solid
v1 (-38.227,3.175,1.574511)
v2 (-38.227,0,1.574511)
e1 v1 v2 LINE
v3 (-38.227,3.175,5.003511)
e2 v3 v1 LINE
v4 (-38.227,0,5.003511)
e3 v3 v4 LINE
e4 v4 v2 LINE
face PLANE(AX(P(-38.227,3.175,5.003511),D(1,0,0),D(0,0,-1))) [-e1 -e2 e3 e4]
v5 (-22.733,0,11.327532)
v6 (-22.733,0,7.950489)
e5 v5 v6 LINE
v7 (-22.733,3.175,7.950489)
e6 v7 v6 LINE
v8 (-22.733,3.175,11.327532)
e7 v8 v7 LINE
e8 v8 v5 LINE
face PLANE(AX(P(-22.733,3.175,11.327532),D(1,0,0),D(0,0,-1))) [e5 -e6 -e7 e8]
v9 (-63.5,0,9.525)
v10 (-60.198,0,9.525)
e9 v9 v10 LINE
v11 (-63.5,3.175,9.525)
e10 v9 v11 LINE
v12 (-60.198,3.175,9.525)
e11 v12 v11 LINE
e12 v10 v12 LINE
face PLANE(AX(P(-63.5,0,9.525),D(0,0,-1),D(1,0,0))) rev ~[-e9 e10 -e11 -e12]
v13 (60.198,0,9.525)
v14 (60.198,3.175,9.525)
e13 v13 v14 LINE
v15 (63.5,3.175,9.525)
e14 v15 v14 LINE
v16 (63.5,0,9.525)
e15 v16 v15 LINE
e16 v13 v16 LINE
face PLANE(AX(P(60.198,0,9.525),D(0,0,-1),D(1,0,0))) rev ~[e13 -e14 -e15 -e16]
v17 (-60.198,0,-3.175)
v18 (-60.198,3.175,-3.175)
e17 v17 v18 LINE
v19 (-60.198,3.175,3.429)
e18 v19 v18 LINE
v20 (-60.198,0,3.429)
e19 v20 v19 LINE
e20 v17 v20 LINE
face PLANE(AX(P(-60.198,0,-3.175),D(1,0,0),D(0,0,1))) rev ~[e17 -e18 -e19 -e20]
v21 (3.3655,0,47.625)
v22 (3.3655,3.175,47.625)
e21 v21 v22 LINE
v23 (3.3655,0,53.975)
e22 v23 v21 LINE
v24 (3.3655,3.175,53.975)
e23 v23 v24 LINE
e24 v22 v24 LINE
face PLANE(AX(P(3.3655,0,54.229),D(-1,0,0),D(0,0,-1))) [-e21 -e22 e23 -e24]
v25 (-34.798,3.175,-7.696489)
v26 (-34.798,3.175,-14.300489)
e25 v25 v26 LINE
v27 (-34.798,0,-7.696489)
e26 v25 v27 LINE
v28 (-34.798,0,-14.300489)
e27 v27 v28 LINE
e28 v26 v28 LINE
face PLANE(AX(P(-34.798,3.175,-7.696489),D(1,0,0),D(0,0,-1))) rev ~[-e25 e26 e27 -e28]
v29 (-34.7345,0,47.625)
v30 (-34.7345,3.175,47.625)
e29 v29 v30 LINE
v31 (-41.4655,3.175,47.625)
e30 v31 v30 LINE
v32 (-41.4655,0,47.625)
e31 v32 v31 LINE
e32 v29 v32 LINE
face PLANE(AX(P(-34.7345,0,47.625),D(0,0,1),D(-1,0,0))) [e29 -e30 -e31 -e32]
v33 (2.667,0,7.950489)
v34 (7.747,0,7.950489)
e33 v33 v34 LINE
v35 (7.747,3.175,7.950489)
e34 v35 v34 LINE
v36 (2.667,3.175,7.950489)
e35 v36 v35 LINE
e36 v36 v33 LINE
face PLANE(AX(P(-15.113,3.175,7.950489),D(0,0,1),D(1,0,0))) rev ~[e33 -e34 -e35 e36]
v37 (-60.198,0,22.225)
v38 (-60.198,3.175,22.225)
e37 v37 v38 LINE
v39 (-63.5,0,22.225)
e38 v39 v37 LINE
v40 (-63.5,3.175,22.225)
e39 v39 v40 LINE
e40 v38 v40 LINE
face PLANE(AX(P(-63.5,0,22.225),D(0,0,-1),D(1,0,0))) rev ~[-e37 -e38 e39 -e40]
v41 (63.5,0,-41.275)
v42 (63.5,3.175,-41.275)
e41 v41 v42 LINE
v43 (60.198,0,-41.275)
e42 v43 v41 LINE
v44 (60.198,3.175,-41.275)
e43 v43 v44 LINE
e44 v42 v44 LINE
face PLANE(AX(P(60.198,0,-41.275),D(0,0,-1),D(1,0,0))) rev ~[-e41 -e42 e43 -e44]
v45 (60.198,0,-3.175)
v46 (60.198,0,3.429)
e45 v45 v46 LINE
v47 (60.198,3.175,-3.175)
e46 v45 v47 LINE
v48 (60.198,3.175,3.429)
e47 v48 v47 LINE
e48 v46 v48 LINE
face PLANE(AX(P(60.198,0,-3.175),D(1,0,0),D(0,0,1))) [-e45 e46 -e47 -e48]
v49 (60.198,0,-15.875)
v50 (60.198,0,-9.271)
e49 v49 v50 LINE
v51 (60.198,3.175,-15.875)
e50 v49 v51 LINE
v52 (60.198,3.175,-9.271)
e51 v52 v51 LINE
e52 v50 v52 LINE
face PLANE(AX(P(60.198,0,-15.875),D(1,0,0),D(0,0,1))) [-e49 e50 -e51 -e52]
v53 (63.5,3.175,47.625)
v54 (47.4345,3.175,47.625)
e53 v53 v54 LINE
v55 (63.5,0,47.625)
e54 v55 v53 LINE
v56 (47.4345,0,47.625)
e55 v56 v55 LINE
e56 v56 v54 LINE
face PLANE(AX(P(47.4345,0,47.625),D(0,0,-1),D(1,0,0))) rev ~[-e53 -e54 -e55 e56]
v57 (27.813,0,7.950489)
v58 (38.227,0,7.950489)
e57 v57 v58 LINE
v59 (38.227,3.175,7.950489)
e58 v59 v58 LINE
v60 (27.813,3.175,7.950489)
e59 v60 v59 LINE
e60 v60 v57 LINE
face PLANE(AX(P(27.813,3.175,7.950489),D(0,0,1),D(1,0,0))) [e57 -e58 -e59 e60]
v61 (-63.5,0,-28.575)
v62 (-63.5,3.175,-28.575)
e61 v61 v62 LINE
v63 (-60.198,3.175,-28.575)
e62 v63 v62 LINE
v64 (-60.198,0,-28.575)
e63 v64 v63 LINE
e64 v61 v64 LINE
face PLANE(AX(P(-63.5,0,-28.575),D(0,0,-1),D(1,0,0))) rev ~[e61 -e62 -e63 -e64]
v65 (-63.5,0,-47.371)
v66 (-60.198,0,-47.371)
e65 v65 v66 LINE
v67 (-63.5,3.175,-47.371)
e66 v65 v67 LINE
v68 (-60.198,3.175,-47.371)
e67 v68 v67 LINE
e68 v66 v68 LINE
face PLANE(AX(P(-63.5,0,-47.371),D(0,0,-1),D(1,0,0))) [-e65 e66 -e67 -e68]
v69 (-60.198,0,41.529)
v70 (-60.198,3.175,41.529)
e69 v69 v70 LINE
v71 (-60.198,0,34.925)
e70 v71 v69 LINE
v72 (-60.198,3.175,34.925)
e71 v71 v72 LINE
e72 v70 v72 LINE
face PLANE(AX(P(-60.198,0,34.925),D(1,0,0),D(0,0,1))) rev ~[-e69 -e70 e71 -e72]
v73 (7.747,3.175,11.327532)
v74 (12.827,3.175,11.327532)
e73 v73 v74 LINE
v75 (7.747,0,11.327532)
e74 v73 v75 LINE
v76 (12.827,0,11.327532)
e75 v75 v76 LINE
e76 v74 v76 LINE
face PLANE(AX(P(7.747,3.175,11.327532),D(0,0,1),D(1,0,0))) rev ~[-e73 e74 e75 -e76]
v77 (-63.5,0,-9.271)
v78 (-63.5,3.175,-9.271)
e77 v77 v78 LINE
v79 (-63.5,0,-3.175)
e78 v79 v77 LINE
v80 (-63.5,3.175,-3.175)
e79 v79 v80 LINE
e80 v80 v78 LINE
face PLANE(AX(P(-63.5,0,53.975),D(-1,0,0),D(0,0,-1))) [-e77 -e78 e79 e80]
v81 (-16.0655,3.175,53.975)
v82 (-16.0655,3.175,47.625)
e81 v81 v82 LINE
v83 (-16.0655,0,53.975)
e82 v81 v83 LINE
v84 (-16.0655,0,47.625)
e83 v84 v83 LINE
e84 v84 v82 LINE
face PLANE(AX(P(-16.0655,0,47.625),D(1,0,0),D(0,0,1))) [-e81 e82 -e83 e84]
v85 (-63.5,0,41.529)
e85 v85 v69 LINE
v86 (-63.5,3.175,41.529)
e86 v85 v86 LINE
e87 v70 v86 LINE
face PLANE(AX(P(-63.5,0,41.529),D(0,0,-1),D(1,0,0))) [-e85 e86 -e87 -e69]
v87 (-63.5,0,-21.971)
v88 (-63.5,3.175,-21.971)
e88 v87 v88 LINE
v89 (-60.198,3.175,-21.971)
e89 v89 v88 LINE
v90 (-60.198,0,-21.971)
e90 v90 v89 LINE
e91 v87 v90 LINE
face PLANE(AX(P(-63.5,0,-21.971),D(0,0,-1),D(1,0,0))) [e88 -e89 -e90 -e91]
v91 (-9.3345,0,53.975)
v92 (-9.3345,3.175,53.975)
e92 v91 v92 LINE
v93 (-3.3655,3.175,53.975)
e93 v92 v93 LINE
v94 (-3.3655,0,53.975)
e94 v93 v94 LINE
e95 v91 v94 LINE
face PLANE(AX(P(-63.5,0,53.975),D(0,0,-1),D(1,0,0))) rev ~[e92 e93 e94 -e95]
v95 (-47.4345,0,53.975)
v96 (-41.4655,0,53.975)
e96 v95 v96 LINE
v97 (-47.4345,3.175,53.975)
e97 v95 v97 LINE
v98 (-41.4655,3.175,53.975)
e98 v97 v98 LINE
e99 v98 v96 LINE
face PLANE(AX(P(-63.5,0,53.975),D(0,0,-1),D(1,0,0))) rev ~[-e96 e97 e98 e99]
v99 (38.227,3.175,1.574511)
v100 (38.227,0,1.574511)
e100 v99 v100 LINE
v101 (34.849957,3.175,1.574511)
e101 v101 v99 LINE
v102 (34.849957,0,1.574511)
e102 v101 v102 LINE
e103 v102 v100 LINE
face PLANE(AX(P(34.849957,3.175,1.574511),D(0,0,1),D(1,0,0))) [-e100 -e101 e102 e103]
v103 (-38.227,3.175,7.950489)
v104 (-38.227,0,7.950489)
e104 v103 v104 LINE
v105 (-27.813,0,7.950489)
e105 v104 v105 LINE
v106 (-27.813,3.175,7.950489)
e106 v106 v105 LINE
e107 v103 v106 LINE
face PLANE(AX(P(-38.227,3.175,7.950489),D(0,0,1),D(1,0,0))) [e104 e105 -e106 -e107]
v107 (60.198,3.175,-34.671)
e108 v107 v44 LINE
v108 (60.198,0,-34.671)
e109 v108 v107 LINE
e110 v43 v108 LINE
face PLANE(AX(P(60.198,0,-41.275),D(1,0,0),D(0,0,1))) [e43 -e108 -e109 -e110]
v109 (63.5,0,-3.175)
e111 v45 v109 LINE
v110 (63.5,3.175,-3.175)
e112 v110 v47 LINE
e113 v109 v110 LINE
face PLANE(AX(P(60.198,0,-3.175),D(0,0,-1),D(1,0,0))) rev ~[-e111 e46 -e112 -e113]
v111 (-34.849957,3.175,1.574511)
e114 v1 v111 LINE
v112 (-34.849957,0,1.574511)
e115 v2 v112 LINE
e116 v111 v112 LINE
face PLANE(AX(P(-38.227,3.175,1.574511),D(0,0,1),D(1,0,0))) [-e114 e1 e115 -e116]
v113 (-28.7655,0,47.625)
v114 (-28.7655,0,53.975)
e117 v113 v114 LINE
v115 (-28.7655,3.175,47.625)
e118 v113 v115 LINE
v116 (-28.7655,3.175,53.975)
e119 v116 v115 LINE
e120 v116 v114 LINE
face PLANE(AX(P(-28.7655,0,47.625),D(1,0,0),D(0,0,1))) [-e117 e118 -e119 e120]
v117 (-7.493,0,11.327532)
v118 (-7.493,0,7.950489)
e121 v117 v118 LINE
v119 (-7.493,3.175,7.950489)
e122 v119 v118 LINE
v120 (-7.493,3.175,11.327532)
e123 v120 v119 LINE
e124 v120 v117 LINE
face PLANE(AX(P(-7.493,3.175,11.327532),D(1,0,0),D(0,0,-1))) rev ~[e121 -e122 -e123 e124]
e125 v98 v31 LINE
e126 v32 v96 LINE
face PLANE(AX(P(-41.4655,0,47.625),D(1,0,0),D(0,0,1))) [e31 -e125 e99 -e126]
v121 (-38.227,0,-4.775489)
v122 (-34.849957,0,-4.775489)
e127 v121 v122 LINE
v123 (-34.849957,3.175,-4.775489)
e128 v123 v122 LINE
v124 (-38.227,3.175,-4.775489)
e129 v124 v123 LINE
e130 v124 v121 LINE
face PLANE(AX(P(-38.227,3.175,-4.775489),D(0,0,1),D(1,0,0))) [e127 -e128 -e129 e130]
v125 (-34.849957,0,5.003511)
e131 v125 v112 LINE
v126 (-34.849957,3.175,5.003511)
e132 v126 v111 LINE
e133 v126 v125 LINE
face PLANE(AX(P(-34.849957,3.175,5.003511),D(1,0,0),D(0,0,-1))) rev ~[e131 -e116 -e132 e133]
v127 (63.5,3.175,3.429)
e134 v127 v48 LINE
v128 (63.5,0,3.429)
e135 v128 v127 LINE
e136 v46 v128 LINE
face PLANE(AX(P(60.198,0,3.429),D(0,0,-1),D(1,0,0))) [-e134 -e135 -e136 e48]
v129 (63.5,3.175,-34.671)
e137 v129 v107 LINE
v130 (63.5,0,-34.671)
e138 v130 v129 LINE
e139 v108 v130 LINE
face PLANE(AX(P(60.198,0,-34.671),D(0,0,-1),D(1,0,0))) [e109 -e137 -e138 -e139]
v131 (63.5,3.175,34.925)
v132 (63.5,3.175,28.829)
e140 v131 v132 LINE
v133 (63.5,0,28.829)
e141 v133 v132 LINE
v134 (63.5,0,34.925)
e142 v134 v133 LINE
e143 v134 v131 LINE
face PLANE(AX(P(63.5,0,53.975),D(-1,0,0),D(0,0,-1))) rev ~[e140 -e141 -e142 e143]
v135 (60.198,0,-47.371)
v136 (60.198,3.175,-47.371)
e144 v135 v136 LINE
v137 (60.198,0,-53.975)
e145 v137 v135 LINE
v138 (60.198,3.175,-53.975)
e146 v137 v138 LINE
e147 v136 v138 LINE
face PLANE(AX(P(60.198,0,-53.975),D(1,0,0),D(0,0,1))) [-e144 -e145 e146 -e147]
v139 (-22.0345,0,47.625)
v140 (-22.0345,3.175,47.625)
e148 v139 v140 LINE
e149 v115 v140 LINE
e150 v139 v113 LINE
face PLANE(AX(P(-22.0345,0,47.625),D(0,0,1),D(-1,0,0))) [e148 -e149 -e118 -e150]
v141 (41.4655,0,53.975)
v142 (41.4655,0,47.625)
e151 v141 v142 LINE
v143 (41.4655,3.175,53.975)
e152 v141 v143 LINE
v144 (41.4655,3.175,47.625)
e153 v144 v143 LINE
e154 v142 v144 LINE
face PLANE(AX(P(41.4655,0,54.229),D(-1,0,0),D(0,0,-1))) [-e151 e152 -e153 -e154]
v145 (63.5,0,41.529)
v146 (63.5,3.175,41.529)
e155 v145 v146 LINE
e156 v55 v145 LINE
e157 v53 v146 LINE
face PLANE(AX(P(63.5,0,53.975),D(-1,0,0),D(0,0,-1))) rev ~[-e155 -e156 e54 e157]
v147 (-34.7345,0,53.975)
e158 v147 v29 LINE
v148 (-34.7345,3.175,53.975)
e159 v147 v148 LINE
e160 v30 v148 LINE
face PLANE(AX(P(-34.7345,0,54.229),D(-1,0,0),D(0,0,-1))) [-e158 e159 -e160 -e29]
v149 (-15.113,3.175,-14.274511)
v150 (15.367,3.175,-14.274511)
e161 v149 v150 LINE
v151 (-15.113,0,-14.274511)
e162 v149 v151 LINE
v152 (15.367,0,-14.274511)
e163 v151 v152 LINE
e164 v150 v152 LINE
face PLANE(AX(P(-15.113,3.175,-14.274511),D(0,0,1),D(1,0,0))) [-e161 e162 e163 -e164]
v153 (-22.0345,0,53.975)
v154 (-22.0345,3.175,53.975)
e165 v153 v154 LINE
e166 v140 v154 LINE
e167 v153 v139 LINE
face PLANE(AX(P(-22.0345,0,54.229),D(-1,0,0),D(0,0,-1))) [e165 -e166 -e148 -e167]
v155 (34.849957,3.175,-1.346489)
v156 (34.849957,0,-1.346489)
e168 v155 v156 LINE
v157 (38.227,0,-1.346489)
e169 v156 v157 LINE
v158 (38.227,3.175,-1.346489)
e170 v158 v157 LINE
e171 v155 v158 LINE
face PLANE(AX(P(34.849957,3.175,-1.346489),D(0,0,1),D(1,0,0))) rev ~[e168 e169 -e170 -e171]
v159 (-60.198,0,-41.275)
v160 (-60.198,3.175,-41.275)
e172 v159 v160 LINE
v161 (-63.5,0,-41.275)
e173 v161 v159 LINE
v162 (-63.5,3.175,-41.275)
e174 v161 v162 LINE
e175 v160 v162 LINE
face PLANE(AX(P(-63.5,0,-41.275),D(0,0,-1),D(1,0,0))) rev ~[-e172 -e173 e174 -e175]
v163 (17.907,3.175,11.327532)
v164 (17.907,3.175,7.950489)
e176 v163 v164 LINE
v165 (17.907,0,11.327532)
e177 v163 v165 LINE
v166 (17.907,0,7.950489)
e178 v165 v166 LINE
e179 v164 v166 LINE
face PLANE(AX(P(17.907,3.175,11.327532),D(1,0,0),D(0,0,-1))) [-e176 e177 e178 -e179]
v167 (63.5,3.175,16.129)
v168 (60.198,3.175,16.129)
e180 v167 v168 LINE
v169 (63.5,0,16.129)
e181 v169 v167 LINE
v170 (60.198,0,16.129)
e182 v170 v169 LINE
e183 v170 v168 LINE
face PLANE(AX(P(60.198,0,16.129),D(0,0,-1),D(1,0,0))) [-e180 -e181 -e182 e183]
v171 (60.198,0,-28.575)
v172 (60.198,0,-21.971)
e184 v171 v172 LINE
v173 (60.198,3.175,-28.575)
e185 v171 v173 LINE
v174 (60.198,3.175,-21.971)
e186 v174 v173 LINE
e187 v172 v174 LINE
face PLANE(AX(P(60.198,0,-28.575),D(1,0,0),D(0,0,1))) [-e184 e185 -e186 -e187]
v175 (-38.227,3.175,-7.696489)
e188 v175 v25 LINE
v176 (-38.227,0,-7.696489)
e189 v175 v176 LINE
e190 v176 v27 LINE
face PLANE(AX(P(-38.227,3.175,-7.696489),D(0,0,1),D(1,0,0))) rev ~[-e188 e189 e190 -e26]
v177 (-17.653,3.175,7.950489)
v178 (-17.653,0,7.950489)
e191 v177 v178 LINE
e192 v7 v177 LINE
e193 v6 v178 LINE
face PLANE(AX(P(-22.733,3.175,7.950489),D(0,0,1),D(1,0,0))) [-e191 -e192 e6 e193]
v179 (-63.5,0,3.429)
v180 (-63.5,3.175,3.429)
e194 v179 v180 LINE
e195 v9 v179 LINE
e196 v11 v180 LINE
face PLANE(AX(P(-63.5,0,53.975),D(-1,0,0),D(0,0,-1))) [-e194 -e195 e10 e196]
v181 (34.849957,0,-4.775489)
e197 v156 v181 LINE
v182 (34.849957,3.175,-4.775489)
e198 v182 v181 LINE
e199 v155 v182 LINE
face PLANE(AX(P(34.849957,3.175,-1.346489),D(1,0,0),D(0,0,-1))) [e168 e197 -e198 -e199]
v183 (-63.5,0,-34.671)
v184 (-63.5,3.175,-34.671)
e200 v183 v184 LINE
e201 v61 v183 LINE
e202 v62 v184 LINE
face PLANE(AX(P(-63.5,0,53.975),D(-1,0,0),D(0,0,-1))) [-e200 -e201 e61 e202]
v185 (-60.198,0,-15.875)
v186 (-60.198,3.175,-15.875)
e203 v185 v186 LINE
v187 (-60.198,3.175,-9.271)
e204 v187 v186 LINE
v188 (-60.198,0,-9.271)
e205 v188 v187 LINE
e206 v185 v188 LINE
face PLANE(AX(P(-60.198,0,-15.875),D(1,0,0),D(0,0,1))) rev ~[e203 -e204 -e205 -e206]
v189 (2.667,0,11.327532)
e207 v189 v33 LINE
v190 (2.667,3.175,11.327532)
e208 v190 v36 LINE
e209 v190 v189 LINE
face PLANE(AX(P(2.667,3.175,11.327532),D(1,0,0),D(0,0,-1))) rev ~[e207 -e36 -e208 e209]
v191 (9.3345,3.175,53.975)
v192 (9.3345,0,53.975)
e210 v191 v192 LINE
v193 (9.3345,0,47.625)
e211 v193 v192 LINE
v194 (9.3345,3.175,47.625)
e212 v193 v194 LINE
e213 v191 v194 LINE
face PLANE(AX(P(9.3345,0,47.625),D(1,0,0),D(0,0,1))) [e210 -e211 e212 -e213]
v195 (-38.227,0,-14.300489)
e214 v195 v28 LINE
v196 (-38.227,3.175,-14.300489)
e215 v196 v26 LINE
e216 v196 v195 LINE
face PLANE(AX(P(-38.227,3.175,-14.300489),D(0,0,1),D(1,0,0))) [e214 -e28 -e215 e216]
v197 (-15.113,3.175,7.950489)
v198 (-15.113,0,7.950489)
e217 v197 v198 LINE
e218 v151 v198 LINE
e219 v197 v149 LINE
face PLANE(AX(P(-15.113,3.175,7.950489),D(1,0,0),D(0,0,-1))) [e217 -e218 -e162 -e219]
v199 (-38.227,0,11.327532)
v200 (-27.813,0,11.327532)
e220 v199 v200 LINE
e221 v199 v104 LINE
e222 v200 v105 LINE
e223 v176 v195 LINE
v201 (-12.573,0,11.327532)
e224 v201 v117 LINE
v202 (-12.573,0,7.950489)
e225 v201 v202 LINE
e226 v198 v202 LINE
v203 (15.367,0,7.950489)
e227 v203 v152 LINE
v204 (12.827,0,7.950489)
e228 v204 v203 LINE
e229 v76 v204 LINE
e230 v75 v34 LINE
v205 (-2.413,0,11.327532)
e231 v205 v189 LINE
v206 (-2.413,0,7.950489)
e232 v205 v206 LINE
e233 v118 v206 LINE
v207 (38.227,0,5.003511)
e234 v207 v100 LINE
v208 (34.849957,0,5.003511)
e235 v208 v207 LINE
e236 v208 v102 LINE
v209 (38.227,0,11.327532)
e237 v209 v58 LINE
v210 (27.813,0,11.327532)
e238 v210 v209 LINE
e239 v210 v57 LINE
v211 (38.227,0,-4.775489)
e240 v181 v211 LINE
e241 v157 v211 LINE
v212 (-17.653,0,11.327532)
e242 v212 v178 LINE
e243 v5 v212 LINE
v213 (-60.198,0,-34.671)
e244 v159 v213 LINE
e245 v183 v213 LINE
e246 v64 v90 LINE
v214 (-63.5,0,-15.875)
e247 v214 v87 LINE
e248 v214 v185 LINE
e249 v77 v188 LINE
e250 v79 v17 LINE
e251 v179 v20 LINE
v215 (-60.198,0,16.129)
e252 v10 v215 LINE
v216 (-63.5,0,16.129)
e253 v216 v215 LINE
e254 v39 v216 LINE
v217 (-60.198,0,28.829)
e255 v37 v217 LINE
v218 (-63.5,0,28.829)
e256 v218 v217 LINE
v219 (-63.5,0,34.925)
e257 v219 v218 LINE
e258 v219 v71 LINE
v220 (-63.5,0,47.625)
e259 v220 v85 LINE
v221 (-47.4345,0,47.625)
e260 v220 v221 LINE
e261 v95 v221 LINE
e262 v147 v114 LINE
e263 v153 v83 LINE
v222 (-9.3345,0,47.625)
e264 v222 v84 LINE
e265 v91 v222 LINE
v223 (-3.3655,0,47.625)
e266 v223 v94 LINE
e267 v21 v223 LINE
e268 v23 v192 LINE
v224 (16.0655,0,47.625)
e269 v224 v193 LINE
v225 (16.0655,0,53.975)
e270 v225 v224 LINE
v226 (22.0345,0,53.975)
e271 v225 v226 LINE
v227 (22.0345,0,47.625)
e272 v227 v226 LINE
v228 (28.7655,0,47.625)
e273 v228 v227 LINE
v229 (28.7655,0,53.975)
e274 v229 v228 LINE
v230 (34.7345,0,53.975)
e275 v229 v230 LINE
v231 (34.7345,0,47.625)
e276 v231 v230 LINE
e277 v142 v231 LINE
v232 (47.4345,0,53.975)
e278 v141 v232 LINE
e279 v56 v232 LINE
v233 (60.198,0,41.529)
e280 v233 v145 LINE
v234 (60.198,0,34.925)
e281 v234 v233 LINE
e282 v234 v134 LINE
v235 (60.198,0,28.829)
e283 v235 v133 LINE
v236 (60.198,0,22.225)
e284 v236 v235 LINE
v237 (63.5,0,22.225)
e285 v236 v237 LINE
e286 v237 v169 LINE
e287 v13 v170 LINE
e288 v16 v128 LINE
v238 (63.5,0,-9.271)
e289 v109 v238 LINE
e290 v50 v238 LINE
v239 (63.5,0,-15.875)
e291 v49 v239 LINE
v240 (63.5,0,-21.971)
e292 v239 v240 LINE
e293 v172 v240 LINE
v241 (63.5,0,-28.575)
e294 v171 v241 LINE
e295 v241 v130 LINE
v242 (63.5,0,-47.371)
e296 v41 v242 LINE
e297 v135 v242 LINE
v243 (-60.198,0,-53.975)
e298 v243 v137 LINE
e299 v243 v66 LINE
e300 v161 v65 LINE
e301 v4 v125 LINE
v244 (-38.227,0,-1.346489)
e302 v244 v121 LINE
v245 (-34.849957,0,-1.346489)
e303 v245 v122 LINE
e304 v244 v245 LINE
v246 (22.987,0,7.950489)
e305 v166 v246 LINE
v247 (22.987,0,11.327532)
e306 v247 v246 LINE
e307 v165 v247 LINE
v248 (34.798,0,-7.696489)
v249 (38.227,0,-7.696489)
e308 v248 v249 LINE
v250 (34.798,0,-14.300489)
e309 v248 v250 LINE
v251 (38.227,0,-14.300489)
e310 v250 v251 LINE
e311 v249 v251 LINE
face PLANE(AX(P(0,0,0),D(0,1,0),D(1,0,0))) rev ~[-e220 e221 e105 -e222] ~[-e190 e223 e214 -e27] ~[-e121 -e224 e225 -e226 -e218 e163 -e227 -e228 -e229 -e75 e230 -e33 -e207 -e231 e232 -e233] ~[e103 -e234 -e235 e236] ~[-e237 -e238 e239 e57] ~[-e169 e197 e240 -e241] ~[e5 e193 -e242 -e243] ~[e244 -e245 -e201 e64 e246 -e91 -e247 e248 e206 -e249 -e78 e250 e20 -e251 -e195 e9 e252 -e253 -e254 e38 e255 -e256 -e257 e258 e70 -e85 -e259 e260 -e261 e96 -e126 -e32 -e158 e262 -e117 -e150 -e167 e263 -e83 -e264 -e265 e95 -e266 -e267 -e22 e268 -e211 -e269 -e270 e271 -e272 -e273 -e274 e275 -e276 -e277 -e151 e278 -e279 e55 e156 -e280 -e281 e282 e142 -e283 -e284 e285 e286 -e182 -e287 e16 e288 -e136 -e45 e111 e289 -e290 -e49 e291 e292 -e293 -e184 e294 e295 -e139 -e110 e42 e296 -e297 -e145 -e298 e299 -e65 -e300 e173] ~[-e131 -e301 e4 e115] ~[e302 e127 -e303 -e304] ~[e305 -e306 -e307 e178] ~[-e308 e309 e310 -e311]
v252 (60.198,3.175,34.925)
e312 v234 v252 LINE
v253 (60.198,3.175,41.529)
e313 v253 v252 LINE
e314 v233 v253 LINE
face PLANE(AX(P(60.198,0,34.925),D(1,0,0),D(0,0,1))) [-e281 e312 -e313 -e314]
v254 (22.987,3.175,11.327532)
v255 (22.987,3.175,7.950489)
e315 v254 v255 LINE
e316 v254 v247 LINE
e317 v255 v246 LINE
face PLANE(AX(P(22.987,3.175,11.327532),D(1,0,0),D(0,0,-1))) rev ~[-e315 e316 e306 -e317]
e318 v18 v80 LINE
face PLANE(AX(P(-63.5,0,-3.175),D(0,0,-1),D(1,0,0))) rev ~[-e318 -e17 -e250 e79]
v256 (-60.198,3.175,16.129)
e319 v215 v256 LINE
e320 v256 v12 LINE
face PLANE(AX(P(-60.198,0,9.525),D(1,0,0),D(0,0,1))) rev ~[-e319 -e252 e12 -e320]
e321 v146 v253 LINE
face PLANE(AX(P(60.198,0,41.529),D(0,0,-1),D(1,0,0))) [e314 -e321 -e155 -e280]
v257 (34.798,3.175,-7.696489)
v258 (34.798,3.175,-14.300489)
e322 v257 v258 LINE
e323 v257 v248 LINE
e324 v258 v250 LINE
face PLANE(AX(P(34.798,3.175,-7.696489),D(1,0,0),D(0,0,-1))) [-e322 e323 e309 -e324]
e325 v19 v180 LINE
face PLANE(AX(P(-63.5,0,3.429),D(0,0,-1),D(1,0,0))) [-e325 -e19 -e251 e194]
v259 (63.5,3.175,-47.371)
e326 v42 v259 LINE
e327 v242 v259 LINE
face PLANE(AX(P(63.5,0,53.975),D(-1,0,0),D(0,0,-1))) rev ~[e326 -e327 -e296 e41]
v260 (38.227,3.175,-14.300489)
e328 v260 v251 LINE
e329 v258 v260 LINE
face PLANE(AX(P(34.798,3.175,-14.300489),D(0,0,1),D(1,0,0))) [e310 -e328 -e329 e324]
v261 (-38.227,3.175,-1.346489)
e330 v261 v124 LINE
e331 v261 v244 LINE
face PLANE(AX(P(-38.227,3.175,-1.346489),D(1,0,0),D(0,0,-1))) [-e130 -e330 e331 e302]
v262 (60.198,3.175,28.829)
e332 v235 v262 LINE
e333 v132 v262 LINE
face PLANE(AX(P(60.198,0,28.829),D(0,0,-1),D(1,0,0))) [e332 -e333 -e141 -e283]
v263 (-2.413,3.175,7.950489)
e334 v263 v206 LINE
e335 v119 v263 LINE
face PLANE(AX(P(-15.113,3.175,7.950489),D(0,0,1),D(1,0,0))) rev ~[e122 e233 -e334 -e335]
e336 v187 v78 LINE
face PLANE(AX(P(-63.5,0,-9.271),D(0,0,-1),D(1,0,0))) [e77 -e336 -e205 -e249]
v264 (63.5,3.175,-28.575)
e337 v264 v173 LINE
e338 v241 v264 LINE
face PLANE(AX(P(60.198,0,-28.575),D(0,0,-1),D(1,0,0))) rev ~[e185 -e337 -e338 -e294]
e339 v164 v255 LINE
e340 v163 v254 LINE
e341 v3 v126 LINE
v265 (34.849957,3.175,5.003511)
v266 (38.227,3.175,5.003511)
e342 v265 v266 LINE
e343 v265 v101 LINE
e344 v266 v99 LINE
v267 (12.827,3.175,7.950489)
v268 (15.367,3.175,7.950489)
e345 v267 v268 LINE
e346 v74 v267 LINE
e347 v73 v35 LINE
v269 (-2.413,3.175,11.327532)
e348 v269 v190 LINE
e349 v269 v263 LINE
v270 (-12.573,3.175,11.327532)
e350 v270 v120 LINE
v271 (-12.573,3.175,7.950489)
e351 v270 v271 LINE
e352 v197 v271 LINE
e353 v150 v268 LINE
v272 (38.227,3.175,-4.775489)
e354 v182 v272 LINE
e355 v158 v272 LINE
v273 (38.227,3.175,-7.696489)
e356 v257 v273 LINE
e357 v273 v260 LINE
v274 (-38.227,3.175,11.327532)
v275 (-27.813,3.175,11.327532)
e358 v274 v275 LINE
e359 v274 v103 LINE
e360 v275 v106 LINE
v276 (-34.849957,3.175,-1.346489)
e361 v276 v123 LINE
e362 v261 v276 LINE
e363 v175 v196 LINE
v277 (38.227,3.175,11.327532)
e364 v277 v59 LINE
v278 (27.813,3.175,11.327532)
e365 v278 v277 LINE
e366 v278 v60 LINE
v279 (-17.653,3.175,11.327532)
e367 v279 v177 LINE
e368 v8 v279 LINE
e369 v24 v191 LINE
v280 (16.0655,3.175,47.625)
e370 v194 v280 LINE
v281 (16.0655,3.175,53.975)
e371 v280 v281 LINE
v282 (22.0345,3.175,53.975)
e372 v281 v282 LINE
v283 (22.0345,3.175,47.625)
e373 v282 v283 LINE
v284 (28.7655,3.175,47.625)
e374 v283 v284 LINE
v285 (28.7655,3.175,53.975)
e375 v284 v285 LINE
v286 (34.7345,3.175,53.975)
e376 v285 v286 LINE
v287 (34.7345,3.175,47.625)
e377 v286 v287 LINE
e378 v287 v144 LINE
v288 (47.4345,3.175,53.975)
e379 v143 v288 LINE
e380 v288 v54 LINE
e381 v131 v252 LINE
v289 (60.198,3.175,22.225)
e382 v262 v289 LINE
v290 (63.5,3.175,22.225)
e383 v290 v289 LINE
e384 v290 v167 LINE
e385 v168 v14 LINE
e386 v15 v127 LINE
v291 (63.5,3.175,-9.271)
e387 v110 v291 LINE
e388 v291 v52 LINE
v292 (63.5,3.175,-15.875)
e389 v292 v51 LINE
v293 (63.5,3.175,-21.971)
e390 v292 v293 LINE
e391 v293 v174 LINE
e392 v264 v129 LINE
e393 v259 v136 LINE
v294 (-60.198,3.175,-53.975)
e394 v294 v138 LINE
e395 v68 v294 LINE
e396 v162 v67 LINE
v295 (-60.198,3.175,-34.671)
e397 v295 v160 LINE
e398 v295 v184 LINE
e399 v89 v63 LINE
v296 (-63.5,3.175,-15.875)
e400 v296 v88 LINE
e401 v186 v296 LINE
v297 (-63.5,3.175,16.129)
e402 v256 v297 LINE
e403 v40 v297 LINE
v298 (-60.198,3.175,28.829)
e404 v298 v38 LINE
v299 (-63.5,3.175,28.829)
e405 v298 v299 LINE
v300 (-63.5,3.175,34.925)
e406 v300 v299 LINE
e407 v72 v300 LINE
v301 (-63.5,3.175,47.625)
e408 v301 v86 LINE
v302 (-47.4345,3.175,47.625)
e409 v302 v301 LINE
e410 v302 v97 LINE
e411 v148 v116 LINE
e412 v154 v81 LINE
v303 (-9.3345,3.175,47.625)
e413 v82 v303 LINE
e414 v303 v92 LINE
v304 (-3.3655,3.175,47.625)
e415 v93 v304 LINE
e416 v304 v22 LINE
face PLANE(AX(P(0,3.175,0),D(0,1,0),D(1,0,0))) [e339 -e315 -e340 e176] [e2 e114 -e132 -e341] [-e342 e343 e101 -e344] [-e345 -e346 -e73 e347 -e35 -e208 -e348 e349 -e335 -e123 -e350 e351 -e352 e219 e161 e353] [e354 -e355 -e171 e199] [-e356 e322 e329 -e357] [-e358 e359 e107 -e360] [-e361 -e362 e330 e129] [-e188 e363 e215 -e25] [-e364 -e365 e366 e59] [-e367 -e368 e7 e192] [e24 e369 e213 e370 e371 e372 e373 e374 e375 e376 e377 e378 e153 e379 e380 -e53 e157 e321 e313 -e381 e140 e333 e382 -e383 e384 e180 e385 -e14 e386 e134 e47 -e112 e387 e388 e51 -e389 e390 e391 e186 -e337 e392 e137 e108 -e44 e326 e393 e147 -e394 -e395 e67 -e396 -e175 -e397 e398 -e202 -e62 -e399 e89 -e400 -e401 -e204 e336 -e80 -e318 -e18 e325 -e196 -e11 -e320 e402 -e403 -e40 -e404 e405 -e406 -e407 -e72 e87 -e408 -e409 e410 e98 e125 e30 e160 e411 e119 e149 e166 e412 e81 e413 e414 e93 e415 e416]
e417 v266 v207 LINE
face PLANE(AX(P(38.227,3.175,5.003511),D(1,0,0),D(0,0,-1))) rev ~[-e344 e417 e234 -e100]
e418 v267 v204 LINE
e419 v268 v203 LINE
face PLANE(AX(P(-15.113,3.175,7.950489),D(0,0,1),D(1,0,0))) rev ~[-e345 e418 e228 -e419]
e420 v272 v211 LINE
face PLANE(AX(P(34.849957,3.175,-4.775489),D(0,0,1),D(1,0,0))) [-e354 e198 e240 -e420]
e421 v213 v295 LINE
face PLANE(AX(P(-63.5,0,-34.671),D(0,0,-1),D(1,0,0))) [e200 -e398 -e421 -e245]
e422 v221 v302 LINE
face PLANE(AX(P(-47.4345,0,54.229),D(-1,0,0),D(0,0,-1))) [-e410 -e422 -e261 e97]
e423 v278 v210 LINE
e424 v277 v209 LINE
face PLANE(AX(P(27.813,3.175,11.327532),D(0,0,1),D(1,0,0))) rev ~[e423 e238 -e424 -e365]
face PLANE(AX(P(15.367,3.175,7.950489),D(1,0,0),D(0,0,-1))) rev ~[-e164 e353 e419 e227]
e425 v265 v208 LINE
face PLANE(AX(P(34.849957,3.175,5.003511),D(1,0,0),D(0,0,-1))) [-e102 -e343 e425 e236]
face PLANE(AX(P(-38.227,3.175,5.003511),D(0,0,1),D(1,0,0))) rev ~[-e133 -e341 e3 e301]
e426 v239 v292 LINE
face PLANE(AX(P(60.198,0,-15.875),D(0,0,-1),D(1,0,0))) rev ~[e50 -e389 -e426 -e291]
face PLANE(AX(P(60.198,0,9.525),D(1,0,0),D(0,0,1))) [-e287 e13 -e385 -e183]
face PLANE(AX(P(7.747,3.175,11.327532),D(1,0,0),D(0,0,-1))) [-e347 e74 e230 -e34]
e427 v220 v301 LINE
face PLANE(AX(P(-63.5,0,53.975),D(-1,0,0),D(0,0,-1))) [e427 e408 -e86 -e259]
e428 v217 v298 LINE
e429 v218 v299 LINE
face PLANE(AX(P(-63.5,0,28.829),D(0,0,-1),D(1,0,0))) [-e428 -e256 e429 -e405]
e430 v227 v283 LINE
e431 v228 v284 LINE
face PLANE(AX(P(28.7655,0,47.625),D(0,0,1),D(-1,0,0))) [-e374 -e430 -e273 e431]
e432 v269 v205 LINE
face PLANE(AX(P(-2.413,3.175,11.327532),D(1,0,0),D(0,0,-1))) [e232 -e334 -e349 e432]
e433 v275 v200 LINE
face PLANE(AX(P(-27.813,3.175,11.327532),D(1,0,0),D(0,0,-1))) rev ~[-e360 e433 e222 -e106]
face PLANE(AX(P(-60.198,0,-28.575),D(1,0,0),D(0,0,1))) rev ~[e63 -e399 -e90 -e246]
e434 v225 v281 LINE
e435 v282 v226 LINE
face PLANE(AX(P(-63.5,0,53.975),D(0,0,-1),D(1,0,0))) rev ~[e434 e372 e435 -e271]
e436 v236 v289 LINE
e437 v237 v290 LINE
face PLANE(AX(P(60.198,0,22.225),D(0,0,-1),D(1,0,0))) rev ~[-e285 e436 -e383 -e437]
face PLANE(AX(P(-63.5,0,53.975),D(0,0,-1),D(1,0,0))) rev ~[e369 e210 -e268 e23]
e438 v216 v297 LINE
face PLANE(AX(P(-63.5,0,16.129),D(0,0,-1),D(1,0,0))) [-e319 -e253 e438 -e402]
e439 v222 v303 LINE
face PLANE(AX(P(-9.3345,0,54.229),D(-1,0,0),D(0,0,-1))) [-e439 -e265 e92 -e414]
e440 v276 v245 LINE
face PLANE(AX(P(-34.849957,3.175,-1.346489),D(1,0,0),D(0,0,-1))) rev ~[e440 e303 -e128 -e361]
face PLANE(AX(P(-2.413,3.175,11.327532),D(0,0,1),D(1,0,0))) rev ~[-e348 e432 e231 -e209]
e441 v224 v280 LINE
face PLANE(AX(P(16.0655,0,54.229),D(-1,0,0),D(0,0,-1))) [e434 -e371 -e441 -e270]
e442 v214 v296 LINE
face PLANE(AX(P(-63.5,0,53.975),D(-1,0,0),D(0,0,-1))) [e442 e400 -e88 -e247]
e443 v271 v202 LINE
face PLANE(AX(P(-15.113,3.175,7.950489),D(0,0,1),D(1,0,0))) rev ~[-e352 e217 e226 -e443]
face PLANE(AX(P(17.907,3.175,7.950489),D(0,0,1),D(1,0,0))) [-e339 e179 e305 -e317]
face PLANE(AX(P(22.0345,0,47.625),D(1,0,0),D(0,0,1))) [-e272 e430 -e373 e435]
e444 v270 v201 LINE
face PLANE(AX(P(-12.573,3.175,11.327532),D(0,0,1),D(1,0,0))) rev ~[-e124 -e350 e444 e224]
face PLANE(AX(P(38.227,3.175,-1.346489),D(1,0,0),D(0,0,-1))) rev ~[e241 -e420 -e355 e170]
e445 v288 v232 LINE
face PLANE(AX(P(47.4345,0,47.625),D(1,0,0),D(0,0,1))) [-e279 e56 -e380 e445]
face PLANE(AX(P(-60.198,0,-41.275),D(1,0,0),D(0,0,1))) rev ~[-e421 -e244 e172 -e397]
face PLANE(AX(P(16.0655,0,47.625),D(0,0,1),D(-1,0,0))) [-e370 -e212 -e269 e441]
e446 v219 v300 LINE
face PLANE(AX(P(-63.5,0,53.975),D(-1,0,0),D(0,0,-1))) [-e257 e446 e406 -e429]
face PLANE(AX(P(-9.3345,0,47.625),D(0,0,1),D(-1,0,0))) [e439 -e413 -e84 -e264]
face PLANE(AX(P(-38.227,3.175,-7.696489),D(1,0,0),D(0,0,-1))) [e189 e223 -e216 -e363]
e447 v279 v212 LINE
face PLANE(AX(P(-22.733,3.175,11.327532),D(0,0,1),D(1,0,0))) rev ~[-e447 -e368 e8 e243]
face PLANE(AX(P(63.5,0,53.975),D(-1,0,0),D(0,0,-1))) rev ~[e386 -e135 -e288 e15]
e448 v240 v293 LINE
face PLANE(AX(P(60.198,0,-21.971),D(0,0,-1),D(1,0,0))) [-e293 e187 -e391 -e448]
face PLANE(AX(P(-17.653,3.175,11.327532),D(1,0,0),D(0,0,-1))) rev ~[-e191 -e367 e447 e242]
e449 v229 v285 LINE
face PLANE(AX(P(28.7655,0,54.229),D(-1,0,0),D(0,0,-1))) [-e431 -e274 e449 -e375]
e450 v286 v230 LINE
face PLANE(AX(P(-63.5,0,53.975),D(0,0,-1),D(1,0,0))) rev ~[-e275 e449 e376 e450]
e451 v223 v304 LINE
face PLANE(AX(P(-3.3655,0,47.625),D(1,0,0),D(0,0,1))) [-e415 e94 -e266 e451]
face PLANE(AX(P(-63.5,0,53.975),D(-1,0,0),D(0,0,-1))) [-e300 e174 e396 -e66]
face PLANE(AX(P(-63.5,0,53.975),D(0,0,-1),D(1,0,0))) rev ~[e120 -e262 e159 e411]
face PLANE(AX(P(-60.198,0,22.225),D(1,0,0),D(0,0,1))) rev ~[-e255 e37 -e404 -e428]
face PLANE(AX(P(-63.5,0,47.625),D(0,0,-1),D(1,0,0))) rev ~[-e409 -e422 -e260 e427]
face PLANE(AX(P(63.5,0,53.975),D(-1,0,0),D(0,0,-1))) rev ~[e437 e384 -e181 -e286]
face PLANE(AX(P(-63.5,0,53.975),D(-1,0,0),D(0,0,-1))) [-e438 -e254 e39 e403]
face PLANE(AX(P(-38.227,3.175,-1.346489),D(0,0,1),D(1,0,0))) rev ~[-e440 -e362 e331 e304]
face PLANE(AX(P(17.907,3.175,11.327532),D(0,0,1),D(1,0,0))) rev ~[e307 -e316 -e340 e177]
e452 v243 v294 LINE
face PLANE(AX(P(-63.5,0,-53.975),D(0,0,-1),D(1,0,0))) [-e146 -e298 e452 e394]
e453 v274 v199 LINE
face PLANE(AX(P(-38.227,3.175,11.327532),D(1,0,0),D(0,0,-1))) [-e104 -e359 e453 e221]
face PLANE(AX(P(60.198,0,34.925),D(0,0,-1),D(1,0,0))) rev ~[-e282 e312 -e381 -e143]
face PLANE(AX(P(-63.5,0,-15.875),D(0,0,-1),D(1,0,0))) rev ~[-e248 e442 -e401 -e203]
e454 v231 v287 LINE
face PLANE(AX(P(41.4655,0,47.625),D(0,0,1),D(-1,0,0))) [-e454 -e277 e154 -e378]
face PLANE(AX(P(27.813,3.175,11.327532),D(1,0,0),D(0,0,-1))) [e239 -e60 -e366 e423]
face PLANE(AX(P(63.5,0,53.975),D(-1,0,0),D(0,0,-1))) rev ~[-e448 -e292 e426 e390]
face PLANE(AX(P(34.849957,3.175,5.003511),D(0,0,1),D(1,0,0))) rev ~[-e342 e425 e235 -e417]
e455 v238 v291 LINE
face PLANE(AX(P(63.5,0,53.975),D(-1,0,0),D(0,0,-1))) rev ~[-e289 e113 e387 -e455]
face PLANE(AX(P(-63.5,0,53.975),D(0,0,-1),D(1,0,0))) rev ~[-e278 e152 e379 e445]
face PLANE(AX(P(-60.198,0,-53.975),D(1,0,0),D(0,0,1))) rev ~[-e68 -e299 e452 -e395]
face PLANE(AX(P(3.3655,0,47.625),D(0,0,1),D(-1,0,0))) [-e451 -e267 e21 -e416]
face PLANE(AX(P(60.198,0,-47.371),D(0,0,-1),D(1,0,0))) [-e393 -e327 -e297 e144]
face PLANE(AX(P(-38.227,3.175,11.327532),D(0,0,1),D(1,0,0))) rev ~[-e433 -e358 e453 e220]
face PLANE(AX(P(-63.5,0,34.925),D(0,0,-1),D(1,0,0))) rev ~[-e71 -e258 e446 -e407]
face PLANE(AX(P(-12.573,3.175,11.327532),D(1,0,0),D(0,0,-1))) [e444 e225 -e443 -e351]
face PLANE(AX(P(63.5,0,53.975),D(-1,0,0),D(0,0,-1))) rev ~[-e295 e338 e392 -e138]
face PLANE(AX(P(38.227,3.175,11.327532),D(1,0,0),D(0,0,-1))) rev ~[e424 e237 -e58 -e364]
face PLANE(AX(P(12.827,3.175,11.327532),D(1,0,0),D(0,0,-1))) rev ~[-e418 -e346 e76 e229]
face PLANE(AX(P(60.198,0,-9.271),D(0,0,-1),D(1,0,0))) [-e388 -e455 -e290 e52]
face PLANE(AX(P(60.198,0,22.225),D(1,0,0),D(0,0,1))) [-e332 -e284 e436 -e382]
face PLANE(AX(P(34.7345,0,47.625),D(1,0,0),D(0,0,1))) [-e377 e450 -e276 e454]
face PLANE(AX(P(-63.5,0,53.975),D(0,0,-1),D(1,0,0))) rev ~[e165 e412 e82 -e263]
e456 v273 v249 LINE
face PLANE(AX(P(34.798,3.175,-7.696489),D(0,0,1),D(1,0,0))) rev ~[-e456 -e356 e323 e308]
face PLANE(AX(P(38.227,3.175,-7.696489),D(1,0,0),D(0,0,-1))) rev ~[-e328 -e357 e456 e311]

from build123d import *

# Parameters (mm, degrees)
SKETCH1_W           = 127
SKETCH1_H           = 107.95
BOSS_EXTRUDE1_DEPTH = 3.175
SKETCH2_W           = 3.302
SKETCH2_H           = 6.604
CUT_EXTRUDE1_DEPTH  = 84.400427157
SKETCH3_R           = 1.27
SKETCH3_W           = 3.377042817
SKETCH3_H           = 3.429
SKETCH3_W_2         = 3.429
SKETCH3_H_2         = 6.604
SKETCH3_W_3         = 5.08
SKETCH3_H_3         = 3.377042817
SKETCH3_W_4         = 10.414
CUT_EXTRUDE2_DEPTH  = 84.400427157
SKETCH4_W           = 25.4
SKETCH4_H           = 12.7
CUT_EXTRUDE3_DEPTH  = 84.400427157
SKETCH5_W           = 30.48
SKETCH5_H           = 17.475489296
CUT_EXTRUDE4_DEPTH  = 84.400427157
SKETCH6_W           = 30.48
SKETCH6_H           = 22.225
CUT_EXTRUDE5_DEPTH  = 84.400427157


with BuildPart() as part:
    # Sketch1 → Boss-Extrude1 (new body)
    with BuildSketch(Plane(origin=(0, 0, 0), x_dir=(1, 0, 0), z_dir=(0, 1, 0))):
        Rectangle(SKETCH1_W, SKETCH1_H)
    extrude(amount=BOSS_EXTRUDE1_DEPTH)

    # Sketch2 → Cut-Extrude1 (cut, through all)
    with BuildSketch(Plane.XZ):
        Polygon((-34.7345, 47.625), (-41.4655, 47.625), (-41.4655, 54.229), (-47.4345, 54.229), (-47.4345, 47.625), (-60.198, 47.625), (-63.5, 47.625), (-63.5, 54.229), (-63.5, 63.03162391), (63.5, 63.03162391), (63.5, 54.229), (63.5, 47.625), (60.198, 47.625), (47.4345, 47.625), (47.4345, 54.229), (41.4655, 54.229), (41.4655, 47.625), (34.7345, 47.625), (34.7345, 54.229), (28.7655, 54.229), (28.7655, 47.625), (22.0345, 47.625), (22.0345, 54.229), (16.0655, 54.229), (16.0655, 47.625), (9.3345, 47.625), (9.3345, 54.229), (3.3655, 54.229), (3.3655, 47.625), (-3.3655, 47.625), (-3.3655, 54.229), (-9.3345, 54.229), (-9.3345, 47.625), (-16.0655, 47.625), (-16.0655, 54.229), (-22.0345, 54.229), (-22.0345, 47.625), (-28.7655, 47.625), (-28.7655, 54.229), (-34.7345, 54.229), align=None)
        with Locations((61.849, 38.227)):
            Rectangle(SKETCH2_W, SKETCH2_H)
        with Locations((61.849, 25.527)):
            Rectangle(SKETCH2_W, SKETCH2_H)
        with Locations((61.849, 12.827)):
            Rectangle(SKETCH2_W, SKETCH2_H)
        with Locations((61.849, 0.127)):
            Rectangle(SKETCH2_W, SKETCH2_H)
        with Locations((61.849, -12.573)):
            Rectangle(SKETCH2_W, SKETCH2_H)
        with Locations((61.849, -25.273)):
            Rectangle(SKETCH2_W, SKETCH2_H)
        with Locations((61.849, -37.973)):
            Rectangle(SKETCH2_W, SKETCH2_H)
        with Locations((-61.849, -37.973)):
            Rectangle(SKETCH2_W, SKETCH2_H)
        with Locations((-61.849, -25.273)):
            Rectangle(SKETCH2_W, SKETCH2_H)
        with Locations((-61.849, -12.573)):
            Rectangle(SKETCH2_W, SKETCH2_H)
        with Locations((-61.849, 0.127)):
            Rectangle(SKETCH2_W, SKETCH2_H)
        with Locations((-61.849, 12.827)):
            Rectangle(SKETCH2_W, SKETCH2_H)
        with Locations((-61.849, 25.527)):
            Rectangle(SKETCH2_W, SKETCH2_H)
        with Locations((-61.849, 38.227)):
            Rectangle(SKETCH2_W, SKETCH2_H)
        with Locations((61.849, -50.673)):
            Rectangle(SKETCH2_W, SKETCH2_H)
        with Locations((-61.849, -50.673)):
            Rectangle(SKETCH2_W, SKETCH2_H)
    extrude(amount=-CUT_EXTRUDE1_DEPTH, mode=Mode.SUBTRACT)

    # Sketch3 → Cut-Extrude2 (cut, through all)
    with BuildSketch(Plane(origin=(0, 3.175, 0), x_dir=(1, 0, 0), z_dir=(0, 1, 0))):
        with Locations((0, 3.175)):
            Circle(SKETCH3_R)
        with Locations((-36.538478592, -3.289010704)):
            Rectangle(SKETCH3_W, SKETCH3_H)
        with Locations((-36.5125, 10.998489296)):
            Rectangle(SKETCH3_W_2, SKETCH3_H_2)
        with Locations((-36.538478592, 3.060989296)):
            Rectangle(SKETCH3_W, SKETCH3_H)
        with Locations((-10.033, -9.639010705)):
            Rectangle(SKETCH3_W_3, SKETCH3_H_3)
        with Locations((-33.02, -9.639010705)):
            Rectangle(SKETCH3_W_4, SKETCH3_H_3)
        with Locations((-20.193, -9.639010705)):
            Rectangle(SKETCH3_W_3, SKETCH3_H_3)
        with Locations((0.127, -9.639010705)):
            Rectangle(SKETCH3_W_3, SKETCH3_H_3)
        with Locations((10.287, -9.639010705)):
            Rectangle(SKETCH3_W_3, SKETCH3_H_3)
        with Locations((20.447, -9.639010705)):
            Rectangle(SKETCH3_W_3, SKETCH3_H_3)
        with Locations((33.02, -9.639010705)):
            Rectangle(SKETCH3_W_4, SKETCH3_H_3)
        with Locations((36.538478592, -3.289010704)):
            Rectangle(SKETCH3_W, SKETCH3_H)
        with Locations((36.538478592, 3.060989296)):
            Rectangle(SKETCH3_W, SKETCH3_H)
        with Locations((36.5125, 10.998489296)):
            Rectangle(SKETCH3_W_2, SKETCH3_H_2)
    extrude(amount=-CUT_EXTRUDE2_DEPTH, mode=Mode.SUBTRACT)

    # Sketch4 → Cut-Extrude3 (cut, through all)
    with BuildSketch(Plane(origin=(0, 3.175, 0), x_dir=(1, 0, 0), z_dir=(0, 1, 0))):
        with Locations((0, 3.175)):
            Rectangle(SKETCH4_W, SKETCH4_H)
    extrude(amount=-CUT_EXTRUDE3_DEPTH, mode=Mode.SUBTRACT)

    # Sketch5 → Cut-Extrude4 (cut, through all)
    with BuildSketch(Plane(origin=(0, 3.175, 0), x_dir=(1, 0, 0), z_dir=(0, 1, 0))):
        with Locations((0.127, 0.787255352)):
            Rectangle(SKETCH5_W, SKETCH5_H)
    extrude(amount=-CUT_EXTRUDE4_DEPTH, mode=Mode.SUBTRACT)

    # Sketch6 → Cut-Extrude5 (cut, through all)
    with BuildSketch(Plane(origin=(0, 3.175, 0), x_dir=(1, 0, 0), z_dir=(0, 1, 0))):
        with Locations((0.127, 3.162010704)):
            Rectangle(SKETCH6_W, SKETCH6_H)
    extrude(amount=-CUT_EXTRUDE5_DEPTH, mode=Mode.SUBTRACT)


solid = part.part
